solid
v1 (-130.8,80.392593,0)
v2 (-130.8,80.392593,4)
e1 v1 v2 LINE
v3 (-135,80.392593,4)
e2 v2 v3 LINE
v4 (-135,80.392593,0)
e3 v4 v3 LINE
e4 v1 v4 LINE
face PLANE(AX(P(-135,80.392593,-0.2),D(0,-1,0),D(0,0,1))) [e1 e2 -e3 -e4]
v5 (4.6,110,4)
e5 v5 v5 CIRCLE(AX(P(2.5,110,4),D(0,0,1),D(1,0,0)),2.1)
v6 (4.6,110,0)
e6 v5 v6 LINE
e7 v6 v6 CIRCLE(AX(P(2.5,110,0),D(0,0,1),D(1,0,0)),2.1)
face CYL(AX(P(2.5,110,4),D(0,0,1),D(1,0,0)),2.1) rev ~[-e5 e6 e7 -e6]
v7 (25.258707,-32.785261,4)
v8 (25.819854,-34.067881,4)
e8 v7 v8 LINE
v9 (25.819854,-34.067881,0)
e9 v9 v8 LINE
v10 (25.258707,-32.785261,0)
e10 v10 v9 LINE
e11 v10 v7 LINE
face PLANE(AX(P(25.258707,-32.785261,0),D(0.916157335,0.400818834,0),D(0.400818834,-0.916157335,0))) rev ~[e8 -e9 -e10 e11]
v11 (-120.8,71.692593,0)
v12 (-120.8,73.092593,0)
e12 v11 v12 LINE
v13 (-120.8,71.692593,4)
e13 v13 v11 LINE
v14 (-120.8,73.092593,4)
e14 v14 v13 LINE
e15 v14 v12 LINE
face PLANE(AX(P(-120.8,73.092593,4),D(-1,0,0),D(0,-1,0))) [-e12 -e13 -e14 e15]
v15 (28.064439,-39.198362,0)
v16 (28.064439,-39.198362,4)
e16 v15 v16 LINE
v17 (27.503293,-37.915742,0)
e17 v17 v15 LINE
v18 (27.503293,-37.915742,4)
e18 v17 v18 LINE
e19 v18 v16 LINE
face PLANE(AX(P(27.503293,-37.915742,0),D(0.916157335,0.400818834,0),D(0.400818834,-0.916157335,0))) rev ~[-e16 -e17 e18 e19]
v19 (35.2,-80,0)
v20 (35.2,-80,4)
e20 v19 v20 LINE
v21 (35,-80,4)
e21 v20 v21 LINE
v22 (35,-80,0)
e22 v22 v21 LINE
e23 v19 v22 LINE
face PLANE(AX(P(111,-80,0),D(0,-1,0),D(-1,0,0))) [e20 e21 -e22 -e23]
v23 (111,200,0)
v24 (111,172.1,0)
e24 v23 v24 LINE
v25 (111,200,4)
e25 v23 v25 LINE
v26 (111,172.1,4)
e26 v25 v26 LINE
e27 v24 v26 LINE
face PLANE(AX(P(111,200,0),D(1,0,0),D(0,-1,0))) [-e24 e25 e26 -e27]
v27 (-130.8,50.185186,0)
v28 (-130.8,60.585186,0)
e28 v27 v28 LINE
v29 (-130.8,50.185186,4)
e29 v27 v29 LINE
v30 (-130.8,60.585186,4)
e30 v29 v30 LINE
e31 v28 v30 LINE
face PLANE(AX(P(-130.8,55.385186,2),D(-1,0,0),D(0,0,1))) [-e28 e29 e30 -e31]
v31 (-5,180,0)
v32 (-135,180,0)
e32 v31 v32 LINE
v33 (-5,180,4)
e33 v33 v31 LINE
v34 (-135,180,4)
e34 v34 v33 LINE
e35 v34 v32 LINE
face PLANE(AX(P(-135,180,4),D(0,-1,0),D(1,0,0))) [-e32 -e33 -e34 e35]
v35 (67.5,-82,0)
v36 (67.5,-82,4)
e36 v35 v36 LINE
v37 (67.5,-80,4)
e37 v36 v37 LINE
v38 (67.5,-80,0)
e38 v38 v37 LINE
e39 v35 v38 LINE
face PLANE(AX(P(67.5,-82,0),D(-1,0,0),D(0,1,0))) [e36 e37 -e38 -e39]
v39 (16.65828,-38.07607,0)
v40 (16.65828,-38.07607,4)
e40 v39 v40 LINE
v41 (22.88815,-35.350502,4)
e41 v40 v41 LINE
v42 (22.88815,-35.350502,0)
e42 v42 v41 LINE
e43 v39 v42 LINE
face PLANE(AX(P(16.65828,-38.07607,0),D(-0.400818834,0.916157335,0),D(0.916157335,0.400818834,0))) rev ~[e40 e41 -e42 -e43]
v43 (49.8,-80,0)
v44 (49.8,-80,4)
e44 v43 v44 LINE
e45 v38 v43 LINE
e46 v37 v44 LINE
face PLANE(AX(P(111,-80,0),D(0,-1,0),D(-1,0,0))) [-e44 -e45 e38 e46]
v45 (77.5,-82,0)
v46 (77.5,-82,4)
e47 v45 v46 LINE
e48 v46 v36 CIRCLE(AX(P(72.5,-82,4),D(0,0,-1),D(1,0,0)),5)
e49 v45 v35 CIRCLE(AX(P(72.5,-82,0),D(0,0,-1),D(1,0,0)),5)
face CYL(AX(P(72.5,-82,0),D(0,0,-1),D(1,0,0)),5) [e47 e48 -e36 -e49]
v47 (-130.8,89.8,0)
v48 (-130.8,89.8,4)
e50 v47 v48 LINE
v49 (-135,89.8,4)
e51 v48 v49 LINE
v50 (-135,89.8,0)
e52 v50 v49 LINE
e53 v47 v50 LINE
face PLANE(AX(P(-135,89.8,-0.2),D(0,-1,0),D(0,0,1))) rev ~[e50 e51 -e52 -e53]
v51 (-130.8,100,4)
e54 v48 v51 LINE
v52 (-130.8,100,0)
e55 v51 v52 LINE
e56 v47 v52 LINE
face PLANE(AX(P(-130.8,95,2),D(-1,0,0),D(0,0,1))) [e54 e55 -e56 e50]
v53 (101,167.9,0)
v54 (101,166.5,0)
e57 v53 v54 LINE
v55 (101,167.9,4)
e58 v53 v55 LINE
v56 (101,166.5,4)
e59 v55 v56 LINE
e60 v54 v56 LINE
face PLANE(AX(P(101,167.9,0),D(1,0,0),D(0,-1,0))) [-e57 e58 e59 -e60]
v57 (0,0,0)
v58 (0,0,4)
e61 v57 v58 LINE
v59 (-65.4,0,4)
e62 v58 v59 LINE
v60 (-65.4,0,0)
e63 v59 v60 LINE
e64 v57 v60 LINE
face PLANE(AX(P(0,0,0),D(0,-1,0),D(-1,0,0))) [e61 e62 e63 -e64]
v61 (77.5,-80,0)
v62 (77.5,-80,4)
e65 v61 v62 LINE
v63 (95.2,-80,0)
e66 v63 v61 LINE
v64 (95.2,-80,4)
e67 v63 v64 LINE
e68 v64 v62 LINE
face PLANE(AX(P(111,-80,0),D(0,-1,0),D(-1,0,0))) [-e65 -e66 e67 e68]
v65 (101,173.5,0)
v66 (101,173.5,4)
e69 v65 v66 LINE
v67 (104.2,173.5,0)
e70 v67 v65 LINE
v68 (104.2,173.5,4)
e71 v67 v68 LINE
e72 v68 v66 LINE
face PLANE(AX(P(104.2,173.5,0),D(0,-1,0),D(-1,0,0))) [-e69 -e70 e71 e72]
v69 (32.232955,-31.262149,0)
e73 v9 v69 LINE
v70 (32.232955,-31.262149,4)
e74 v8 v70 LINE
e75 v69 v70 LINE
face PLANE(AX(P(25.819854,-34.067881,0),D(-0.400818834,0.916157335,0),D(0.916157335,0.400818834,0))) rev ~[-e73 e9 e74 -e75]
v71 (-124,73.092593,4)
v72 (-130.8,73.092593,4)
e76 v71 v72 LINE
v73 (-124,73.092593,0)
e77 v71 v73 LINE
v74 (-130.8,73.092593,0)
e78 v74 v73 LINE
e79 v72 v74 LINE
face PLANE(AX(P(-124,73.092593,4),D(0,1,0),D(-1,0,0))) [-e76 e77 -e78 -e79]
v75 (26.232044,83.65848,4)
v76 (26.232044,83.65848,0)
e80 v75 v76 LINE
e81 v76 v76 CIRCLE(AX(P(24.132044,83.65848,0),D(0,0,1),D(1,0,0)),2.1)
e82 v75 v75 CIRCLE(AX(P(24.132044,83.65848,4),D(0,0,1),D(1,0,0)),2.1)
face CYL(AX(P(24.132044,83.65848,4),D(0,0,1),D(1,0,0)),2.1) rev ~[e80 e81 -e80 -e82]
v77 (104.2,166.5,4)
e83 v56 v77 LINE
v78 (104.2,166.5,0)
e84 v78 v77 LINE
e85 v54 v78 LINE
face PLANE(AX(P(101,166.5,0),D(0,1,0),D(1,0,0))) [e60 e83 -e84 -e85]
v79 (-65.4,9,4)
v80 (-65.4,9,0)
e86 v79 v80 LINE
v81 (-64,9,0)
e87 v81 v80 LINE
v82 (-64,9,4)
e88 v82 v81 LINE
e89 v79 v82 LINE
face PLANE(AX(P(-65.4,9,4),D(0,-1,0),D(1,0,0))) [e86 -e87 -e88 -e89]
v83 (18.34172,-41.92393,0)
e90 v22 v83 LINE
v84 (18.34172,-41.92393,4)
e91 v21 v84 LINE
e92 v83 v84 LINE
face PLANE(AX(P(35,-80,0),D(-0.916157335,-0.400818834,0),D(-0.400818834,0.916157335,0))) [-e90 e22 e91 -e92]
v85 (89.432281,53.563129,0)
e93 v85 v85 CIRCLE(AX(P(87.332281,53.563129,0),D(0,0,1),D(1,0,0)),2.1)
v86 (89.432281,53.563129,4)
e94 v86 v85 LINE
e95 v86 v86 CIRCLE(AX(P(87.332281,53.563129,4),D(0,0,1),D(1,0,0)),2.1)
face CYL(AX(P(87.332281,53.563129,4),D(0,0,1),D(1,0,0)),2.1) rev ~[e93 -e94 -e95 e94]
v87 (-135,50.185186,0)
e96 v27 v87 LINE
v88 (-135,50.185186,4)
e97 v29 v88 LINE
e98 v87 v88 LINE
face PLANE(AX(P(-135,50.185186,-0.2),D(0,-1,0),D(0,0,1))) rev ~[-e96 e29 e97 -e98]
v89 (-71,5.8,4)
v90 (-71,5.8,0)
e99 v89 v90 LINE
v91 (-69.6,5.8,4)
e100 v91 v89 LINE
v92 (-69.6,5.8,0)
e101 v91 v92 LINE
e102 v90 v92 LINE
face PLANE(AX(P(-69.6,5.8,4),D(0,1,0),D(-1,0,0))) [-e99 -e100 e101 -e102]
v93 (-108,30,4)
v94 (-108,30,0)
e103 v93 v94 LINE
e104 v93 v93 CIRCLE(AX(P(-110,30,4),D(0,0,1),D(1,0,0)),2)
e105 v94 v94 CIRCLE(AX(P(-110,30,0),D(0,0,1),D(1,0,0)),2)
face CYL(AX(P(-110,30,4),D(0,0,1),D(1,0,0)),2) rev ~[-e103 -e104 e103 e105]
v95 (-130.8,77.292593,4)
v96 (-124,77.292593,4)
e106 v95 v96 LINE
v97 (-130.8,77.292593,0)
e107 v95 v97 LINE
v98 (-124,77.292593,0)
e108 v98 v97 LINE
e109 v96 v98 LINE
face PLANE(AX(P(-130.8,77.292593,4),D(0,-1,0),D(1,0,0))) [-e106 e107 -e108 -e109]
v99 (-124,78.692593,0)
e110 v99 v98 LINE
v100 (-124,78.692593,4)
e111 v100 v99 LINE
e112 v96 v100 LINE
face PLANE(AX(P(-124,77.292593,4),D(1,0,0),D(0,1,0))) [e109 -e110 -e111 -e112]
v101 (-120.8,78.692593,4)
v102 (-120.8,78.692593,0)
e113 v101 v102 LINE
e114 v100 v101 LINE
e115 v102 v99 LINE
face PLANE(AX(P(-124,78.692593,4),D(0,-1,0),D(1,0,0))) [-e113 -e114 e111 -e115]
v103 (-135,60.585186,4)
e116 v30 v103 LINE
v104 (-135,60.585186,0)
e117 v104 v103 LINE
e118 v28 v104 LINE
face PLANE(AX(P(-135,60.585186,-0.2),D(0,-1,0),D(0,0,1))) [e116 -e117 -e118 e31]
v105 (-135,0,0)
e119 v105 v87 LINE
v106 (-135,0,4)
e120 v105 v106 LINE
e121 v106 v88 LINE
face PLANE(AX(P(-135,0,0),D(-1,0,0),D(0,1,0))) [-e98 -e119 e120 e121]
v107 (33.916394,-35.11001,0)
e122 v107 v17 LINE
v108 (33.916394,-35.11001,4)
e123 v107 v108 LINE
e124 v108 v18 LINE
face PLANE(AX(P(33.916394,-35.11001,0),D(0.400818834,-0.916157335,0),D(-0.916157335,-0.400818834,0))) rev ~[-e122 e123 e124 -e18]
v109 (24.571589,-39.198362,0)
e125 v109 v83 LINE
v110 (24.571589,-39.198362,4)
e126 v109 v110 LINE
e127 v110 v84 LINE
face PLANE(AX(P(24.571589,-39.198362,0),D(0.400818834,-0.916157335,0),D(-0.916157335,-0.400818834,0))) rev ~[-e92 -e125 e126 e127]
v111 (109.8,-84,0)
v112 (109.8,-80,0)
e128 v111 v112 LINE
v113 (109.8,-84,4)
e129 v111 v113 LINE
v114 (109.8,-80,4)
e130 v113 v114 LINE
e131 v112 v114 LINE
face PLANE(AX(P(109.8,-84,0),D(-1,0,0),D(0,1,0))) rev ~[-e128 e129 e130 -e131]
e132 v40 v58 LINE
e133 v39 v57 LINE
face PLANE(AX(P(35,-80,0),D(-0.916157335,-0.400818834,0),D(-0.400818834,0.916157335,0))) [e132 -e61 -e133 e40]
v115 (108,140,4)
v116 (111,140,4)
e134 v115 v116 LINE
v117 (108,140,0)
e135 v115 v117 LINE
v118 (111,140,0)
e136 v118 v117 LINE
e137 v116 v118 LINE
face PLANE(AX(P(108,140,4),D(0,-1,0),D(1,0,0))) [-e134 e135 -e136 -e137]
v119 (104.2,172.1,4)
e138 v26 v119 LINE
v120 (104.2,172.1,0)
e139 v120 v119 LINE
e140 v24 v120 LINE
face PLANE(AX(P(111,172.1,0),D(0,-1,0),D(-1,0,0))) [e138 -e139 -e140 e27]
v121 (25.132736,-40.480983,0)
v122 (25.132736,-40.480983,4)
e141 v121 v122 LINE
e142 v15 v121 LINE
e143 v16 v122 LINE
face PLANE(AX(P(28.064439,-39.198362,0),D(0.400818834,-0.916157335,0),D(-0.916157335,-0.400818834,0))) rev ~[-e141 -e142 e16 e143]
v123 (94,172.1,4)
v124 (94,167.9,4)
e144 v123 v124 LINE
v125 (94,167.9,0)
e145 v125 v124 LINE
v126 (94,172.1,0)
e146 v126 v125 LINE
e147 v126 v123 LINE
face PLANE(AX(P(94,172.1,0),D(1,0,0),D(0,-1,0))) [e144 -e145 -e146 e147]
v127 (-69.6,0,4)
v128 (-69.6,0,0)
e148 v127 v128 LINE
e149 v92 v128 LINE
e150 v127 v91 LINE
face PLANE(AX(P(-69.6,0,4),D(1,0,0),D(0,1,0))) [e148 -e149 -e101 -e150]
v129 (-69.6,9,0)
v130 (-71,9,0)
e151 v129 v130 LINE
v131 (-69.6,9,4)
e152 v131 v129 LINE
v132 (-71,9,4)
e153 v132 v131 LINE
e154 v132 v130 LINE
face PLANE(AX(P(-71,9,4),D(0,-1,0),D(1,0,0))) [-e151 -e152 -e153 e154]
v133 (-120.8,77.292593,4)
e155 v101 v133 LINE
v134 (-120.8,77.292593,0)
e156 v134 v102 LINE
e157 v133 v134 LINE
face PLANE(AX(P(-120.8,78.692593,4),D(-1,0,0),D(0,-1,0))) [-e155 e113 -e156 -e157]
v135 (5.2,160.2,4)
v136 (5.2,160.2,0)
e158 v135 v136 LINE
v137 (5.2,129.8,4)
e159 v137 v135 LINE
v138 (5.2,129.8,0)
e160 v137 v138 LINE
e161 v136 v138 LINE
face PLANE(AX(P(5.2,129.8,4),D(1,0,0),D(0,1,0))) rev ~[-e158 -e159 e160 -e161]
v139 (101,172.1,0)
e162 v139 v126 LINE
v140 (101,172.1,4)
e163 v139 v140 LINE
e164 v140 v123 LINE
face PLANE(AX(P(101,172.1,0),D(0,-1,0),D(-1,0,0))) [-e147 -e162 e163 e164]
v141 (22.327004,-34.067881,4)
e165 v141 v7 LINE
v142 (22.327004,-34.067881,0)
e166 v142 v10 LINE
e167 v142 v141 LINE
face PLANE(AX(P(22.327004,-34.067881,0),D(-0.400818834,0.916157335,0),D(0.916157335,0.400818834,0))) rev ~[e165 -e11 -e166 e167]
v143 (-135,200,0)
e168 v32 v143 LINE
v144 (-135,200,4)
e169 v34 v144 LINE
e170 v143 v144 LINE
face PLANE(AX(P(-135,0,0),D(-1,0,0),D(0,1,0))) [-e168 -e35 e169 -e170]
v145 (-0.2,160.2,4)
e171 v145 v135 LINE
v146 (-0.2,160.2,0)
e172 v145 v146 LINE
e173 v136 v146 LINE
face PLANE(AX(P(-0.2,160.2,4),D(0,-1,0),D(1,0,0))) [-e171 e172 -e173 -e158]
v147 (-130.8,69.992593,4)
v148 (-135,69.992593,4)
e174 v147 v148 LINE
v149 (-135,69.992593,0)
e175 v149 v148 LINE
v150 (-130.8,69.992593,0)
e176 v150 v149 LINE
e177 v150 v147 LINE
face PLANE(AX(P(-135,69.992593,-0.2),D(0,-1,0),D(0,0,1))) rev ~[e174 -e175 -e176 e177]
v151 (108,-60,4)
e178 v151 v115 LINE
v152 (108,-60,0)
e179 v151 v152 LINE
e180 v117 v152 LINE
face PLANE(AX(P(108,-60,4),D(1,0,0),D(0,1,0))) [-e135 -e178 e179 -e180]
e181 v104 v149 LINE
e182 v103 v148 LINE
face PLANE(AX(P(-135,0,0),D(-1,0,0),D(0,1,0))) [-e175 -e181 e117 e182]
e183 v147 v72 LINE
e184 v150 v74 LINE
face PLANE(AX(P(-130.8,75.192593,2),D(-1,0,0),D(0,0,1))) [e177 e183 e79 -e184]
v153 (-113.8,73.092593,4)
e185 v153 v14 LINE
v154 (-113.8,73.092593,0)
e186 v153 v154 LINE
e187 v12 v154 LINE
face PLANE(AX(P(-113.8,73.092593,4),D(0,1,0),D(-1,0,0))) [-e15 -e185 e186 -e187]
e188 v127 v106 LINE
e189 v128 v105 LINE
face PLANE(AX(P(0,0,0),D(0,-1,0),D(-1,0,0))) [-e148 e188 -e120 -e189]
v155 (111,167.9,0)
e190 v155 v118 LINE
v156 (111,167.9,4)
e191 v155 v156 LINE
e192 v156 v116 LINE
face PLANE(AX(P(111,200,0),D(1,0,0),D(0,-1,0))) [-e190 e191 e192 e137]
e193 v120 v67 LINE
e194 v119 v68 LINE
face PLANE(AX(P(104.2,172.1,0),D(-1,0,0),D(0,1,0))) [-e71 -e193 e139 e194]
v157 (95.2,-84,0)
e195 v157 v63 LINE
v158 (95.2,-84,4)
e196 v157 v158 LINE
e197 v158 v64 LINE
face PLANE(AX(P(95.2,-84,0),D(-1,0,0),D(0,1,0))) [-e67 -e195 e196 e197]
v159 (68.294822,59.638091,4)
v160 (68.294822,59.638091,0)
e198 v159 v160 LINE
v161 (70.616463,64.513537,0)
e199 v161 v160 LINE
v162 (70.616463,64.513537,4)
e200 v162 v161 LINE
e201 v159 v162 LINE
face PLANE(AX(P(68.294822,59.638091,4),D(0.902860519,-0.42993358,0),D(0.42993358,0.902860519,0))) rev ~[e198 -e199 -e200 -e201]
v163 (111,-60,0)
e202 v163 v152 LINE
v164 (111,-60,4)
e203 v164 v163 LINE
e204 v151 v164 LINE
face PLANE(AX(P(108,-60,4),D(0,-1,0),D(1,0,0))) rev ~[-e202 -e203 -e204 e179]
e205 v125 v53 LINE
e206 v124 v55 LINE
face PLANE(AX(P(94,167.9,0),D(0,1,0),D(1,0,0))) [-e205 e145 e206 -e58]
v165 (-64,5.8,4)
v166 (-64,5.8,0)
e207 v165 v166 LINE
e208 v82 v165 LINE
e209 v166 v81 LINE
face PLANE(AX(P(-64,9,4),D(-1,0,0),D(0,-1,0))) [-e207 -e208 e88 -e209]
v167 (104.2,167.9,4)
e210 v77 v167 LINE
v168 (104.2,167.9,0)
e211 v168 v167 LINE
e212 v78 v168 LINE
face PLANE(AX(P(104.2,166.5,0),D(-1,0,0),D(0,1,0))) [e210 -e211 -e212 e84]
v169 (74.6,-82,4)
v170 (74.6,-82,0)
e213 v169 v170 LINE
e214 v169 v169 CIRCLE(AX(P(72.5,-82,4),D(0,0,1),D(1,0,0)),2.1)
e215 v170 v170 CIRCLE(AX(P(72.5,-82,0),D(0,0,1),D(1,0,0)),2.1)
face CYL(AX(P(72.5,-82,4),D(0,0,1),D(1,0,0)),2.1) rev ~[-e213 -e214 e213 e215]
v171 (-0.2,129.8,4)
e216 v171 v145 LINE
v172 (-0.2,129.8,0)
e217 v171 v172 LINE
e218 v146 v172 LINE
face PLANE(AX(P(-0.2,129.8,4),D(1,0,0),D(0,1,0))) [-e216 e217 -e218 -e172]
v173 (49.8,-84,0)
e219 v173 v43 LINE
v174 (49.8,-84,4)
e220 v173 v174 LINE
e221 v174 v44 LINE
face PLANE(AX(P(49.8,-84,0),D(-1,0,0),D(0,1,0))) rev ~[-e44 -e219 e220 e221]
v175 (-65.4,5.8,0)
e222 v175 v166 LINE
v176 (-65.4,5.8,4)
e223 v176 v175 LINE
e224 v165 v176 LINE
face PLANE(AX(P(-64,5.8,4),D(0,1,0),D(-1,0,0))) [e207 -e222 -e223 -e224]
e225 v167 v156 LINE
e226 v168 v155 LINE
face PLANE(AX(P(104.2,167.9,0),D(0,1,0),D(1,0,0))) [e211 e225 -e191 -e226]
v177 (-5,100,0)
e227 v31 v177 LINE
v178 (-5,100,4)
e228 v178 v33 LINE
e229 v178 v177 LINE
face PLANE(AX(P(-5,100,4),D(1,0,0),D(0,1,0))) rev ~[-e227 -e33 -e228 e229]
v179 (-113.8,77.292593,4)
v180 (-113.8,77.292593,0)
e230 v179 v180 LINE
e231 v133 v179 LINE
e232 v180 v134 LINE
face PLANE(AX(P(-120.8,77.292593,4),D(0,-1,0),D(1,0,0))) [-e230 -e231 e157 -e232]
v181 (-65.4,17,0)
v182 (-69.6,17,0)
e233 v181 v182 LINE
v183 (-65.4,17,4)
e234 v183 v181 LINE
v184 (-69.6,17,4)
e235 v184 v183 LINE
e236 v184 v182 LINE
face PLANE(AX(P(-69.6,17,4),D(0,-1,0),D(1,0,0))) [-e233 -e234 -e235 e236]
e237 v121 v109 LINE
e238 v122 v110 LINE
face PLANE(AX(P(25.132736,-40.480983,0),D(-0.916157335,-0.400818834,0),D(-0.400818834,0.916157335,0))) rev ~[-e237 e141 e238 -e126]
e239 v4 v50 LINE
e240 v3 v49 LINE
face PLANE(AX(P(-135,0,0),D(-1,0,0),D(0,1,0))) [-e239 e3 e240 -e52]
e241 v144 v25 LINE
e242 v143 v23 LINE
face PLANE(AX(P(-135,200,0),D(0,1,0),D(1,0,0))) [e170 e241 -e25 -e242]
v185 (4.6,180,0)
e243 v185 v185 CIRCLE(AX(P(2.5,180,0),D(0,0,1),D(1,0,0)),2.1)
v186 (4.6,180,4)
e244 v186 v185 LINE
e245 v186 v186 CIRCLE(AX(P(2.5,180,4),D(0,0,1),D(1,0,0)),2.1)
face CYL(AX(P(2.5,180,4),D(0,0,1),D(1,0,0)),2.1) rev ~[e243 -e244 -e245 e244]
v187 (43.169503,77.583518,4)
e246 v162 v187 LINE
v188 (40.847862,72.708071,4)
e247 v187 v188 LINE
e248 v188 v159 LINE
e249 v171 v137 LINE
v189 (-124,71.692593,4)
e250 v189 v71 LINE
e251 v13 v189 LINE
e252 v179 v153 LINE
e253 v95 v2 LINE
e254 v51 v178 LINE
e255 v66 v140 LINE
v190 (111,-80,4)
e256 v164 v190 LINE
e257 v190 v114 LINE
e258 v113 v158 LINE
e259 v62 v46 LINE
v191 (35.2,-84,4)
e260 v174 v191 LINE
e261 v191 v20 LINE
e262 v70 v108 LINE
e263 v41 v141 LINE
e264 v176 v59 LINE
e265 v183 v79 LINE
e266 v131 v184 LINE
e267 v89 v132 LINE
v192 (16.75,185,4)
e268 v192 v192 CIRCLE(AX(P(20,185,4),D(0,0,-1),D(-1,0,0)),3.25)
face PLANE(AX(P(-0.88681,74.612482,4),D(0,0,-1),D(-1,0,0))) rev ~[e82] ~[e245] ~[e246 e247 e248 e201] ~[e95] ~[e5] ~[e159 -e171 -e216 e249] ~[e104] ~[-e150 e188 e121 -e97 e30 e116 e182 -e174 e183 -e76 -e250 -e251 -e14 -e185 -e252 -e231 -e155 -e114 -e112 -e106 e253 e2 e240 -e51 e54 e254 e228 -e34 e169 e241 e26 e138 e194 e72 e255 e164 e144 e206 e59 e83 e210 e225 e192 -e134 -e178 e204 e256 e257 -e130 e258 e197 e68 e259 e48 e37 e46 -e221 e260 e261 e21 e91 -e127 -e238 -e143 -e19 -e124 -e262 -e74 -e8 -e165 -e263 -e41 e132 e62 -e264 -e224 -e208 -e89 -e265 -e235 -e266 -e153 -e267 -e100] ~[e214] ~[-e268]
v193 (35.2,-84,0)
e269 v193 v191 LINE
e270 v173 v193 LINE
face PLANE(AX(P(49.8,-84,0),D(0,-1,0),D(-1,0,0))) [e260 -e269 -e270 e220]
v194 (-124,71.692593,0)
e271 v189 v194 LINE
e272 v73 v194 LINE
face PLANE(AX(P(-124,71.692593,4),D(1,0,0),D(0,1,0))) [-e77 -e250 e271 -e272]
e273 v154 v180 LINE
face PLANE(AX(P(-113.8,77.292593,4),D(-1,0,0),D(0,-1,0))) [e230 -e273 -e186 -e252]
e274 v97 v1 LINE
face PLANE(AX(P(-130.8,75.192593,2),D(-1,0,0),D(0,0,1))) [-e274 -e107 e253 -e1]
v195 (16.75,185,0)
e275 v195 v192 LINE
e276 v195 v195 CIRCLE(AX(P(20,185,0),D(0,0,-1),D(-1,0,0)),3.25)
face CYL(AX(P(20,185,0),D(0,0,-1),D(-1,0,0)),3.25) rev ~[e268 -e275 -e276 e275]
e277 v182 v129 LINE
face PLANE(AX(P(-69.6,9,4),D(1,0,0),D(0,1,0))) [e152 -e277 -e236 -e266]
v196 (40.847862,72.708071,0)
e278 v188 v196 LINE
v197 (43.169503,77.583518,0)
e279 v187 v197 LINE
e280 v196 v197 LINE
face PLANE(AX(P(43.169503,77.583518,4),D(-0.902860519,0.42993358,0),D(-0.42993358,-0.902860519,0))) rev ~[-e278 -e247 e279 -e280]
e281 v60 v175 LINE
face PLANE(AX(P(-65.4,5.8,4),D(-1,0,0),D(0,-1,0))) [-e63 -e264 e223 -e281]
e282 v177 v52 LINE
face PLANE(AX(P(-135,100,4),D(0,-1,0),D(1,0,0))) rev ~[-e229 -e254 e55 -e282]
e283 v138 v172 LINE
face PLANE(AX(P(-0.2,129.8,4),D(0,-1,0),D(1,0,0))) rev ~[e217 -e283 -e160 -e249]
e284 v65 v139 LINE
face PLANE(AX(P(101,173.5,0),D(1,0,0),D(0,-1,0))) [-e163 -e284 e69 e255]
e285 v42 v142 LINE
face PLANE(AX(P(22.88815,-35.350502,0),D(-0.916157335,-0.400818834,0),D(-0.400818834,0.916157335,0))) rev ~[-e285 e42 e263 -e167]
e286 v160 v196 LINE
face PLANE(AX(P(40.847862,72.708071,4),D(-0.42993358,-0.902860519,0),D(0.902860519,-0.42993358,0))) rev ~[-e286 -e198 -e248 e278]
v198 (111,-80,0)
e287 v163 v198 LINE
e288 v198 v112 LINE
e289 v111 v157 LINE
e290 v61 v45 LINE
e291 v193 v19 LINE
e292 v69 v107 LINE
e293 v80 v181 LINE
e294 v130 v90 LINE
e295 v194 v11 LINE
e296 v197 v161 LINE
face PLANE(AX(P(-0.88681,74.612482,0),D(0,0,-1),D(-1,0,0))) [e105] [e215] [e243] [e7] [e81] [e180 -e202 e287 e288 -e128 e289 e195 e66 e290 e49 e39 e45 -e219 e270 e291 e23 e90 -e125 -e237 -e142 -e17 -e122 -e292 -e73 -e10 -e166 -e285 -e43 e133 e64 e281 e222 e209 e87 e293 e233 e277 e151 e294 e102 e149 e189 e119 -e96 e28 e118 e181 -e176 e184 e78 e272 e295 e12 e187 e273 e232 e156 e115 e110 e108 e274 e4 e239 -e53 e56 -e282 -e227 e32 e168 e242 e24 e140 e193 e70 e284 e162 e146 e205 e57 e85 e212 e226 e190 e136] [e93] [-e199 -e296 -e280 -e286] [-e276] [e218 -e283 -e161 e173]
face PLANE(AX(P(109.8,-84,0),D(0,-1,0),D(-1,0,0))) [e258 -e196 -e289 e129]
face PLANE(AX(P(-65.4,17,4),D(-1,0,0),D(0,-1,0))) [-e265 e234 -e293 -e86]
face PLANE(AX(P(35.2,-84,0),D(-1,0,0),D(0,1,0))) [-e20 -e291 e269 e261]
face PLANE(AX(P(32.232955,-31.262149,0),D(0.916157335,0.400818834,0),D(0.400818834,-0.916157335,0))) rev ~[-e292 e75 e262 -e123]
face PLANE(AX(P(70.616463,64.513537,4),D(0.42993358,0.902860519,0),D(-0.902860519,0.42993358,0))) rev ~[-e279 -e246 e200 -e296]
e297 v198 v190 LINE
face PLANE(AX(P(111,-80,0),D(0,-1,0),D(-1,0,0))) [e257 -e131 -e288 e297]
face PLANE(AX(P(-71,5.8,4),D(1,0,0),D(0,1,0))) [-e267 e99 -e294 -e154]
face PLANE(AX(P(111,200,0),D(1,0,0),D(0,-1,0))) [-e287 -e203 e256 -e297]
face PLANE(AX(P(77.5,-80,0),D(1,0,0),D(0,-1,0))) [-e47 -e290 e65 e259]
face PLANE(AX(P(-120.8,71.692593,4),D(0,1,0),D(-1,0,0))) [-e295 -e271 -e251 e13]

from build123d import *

# Parameters (mm, degrees)
BOSS_EXTRU_1_DEPTH       = 4
ESQUISSE2_W              = 130
ESQUISSE2_H              = 80
ENL_V_MAT_EXTRU_1_DEPTH  = 242.33172191
ESQUISSE3_W              = 3
ESQUISSE3_H              = 200
ENL_V_MAT_EXTRU_2_DEPTH  = 242.33172191
ESQUISSE4_R              = 2.1
ENL_V_MAT_EXTRU_3_DEPTH  = 242.33172191
ESQUISSE5_R              = 2
ENL_V_MAT_EXTRU_4_DEPTH  = 242.33172191
ESQUISSE7_R              = 3.25
ENL_V_MAT_EXTRU_6_DEPTH  = 242.33172191
ESQUISSE8_W              = 5.4
ESQUISSE8_H              = 30.4
ENL_V_MAT_EXTRU_7_DEPTH  = 242.33172191
ESQUISSE9_W              = 4.4
ESQUISSE9_H              = 10.4
ENL_V_MAT_EXTRU_8_DEPTH  = 4.2
ENL_V_MAT_EXTRU_9_DEPTH  = 242.33172191
ESQUISSE12_W             = 14.6
ESQUISSE12_H             = 4
BOSS_EXTRU_2_DEPTH       = 4
ENL_V_MAT_EXTRU_10_DEPTH = 242.33172191
ENL_V_MAT_EXTRU_11_DEPTH = 242.33172191
ENL_V_MAT_EXTRU_12_DEPTH = 242.33172191
ESQUISSE16_R             = 2.1
ENL_V_MAT_EXTRU_13_DEPTH = 242.33172191


with BuildPart() as part:
    # Esquisse1 → Boss.-Extru.1 (new body)
    with BuildSketch(Plane.XY):
        Polygon((0, 0), (-135, 0), (-135, 200), (111, 200), (111, -80), (35, -80), align=None)
    extrude(amount=BOSS_EXTRU_1_DEPTH)

    # Esquisse2 → Enlèv. mat.-Extru.1 (cut, through all)
    with BuildSketch(Plane.XY.offset(4)):
        with Locations((-70, 140)):
            Rectangle(ESQUISSE2_W, ESQUISSE2_H)
    extrude(amount=-ENL_V_MAT_EXTRU_1_DEPTH, mode=Mode.SUBTRACT)

    # Esquisse3 → Enlèv. mat.-Extru.2 (cut, through all)
    with BuildSketch(Plane.XY.offset(4)):
        with Locations((109.5, 40)):
            Rectangle(ESQUISSE3_W, ESQUISSE3_H)
    extrude(amount=-ENL_V_MAT_EXTRU_2_DEPTH, mode=Mode.SUBTRACT)

    # Esquisse4 → Enlèv. mat.-Extru.3 (cut, through all)
    with BuildSketch(Plane.XY.offset(4)):
        with Locations((24.132044328, 83.658479689)):
            Circle(ESQUISSE4_R)
        with Locations((87.332280645, 53.563129062)):
            Circle(ESQUISSE4_R)
        with Locations((2.5, 110)):
            Circle(ESQUISSE4_R)
        with Locations((2.5, 180)):
            Circle(ESQUISSE4_R)
    extrude(amount=-ENL_V_MAT_EXTRU_3_DEPTH, mode=Mode.SUBTRACT)

    # Esquisse5 → Enlèv. mat.-Extru.4 (cut, through all)
    with BuildSketch(Plane.XY.offset(4)):
        with Locations((-110, 30)):
            Circle(ESQUISSE5_R)
    extrude(amount=-ENL_V_MAT_EXTRU_4_DEPTH, mode=Mode.SUBTRACT)

    # Esquisse7 → Enlèv. mat.-Extru.6 (cut, through all)
    with BuildSketch(Plane(origin=(0, 0, 0), x_dir=(-1, 0, 0), z_dir=(0, 0, -1))):
        with Locations((-20, 185)):
            Circle(ESQUISSE7_R)
    extrude(amount=-ENL_V_MAT_EXTRU_6_DEPTH, mode=Mode.SUBTRACT)

    # Esquisse8 → Enlèv. mat.-Extru.7 (cut, through all)
    with BuildSketch(Plane.XY.offset(4)):
        with Locations((2.5, 145)):
            Rectangle(ESQUISSE8_W, ESQUISSE8_H)
        Polygon((68.294821705, 59.638090553), (70.616463039, 64.513537354), (43.169503267, 77.583518198), (40.847861933, 72.708071397), align=None)
    extrude(amount=-ENL_V_MAT_EXTRU_7_DEPTH, mode=Mode.SUBTRACT)

    # Esquisse9 → Enlèv. mat.-Extru.8 (cut)
    with BuildSketch(Plane.ZY.offset(135)):
        with Locations((2, 95)):
            Rectangle(ESQUISSE9_W, ESQUISSE9_H)
        with Locations((2, 55.385186032)):
            Rectangle(ESQUISSE9_W, ESQUISSE9_H)
        with Locations((2, 75.192593016)):
            Rectangle(ESQUISSE9_W, ESQUISSE9_H)
    extrude(amount=-ENL_V_MAT_EXTRU_8_DEPTH, mode=Mode.SUBTRACT)

    # Esquisse10 → Enlèv. mat.-Extru.9 (cut, through all)
    with BuildSketch(Plane.XY.offset(4)):
        Polygon((-130.8, 77.292593016), (-124, 77.292593016), (-124, 78.692593016), (-120.8, 78.692593016), (-120.8, 77.292593016), (-113.8, 77.292593016), (-113.8, 73.092593016), (-120.8, 73.092593016), (-120.8, 71.692593016), (-124, 71.692593016), (-124, 73.092593016), (-130.8, 73.092593016), align=None)
    extrude(amount=-ENL_V_MAT_EXTRU_9_DEPTH, mode=Mode.SUBTRACT)

    # Esquisse12 → Boss.-Extru.2 (add)
    with BuildSketch(Plane(origin=(0, 0, 0), x_dir=(-1, 0, 0), z_dir=(0, 0, -1))):
        with Locations((-42.5, -82)):
            Rectangle(ESQUISSE12_W, ESQUISSE12_H)
        with Locations((-102.5, -82)):
            Rectangle(ESQUISSE12_W, ESQUISSE12_H)
        with BuildLine():
            Line((-67.5, -82), (-67.5, -80))
            Line((-67.5, -80), (-77.5, -80))
            Line((-77.5, -80), (-77.5, -82))
            ThreePointArc((-77.5, -82), (-72.5, -87), (-67.5, -82))
        make_face()
    extrude(amount=-BOSS_EXTRU_2_DEPTH)

    # Esquisse13 → Enlèv. mat.-Extru.10 (cut, through all)
    with BuildSketch(Plane(origin=(0, 0, 0), x_dir=(-1, 0, 0), z_dir=(0, 0, -1))):
        Polygon((-18.341719551, -41.923930403), (-16.658280449, -38.076069597), (-22.888150326, -35.350501525), (-22.327003958, -34.067881257), (-25.25870743, -32.785260988), (-25.819853798, -34.067881257), (-32.232955142, -31.262149418), (-33.916394245, -35.110010225), (-27.5032929, -37.915742063), (-28.064439268, -39.198362332), (-25.132735796, -40.480982601), (-24.571589429, -39.198362332), align=None)
    extrude(amount=-ENL_V_MAT_EXTRU_10_DEPTH, mode=Mode.SUBTRACT)

    # Esquisse14 → Enlèv. mat.-Extru.11 (cut, through all)
    with BuildSketch(Plane(origin=(0, 0, 0), x_dir=(-1, 0, 0), z_dir=(0, 0, -1))):
        Polygon((-104.2, 172.1), (-104.2, 173.5), (-101, 173.5), (-101, 172.1), (-94, 172.1), (-94, 167.9), (-101, 167.9), (-101, 166.5), (-104.2, 166.5), (-104.2, 167.9), (-111, 167.9), (-111, 172.1), align=None)
    extrude(amount=-ENL_V_MAT_EXTRU_11_DEPTH, mode=Mode.SUBTRACT)

    # Esquisse15 → Enlèv. mat.-Extru.12 (cut, through all)
    with BuildSketch(Plane.XY.offset(4)):
        Polygon((-69.6, 17), (-65.4, 17), (-65.4, 9), (-64, 9), (-64, 5.8), (-65.4, 5.8), (-65.4, 0), (-69.6, 0), (-69.6, 5.8), (-71, 5.8), (-71, 9), (-69.6, 9), align=None)
    extrude(amount=-ENL_V_MAT_EXTRU_12_DEPTH, mode=Mode.SUBTRACT)

    # Esquisse16 → Enlèv. mat.-Extru.13 (cut, through all)
    with BuildSketch(Plane.XY.offset(4)):
        with Locations((72.5, -82)):
            Circle(ESQUISSE16_R)
    extrude(amount=-ENL_V_MAT_EXTRU_13_DEPTH, mode=Mode.SUBTRACT)


solid = part.part
